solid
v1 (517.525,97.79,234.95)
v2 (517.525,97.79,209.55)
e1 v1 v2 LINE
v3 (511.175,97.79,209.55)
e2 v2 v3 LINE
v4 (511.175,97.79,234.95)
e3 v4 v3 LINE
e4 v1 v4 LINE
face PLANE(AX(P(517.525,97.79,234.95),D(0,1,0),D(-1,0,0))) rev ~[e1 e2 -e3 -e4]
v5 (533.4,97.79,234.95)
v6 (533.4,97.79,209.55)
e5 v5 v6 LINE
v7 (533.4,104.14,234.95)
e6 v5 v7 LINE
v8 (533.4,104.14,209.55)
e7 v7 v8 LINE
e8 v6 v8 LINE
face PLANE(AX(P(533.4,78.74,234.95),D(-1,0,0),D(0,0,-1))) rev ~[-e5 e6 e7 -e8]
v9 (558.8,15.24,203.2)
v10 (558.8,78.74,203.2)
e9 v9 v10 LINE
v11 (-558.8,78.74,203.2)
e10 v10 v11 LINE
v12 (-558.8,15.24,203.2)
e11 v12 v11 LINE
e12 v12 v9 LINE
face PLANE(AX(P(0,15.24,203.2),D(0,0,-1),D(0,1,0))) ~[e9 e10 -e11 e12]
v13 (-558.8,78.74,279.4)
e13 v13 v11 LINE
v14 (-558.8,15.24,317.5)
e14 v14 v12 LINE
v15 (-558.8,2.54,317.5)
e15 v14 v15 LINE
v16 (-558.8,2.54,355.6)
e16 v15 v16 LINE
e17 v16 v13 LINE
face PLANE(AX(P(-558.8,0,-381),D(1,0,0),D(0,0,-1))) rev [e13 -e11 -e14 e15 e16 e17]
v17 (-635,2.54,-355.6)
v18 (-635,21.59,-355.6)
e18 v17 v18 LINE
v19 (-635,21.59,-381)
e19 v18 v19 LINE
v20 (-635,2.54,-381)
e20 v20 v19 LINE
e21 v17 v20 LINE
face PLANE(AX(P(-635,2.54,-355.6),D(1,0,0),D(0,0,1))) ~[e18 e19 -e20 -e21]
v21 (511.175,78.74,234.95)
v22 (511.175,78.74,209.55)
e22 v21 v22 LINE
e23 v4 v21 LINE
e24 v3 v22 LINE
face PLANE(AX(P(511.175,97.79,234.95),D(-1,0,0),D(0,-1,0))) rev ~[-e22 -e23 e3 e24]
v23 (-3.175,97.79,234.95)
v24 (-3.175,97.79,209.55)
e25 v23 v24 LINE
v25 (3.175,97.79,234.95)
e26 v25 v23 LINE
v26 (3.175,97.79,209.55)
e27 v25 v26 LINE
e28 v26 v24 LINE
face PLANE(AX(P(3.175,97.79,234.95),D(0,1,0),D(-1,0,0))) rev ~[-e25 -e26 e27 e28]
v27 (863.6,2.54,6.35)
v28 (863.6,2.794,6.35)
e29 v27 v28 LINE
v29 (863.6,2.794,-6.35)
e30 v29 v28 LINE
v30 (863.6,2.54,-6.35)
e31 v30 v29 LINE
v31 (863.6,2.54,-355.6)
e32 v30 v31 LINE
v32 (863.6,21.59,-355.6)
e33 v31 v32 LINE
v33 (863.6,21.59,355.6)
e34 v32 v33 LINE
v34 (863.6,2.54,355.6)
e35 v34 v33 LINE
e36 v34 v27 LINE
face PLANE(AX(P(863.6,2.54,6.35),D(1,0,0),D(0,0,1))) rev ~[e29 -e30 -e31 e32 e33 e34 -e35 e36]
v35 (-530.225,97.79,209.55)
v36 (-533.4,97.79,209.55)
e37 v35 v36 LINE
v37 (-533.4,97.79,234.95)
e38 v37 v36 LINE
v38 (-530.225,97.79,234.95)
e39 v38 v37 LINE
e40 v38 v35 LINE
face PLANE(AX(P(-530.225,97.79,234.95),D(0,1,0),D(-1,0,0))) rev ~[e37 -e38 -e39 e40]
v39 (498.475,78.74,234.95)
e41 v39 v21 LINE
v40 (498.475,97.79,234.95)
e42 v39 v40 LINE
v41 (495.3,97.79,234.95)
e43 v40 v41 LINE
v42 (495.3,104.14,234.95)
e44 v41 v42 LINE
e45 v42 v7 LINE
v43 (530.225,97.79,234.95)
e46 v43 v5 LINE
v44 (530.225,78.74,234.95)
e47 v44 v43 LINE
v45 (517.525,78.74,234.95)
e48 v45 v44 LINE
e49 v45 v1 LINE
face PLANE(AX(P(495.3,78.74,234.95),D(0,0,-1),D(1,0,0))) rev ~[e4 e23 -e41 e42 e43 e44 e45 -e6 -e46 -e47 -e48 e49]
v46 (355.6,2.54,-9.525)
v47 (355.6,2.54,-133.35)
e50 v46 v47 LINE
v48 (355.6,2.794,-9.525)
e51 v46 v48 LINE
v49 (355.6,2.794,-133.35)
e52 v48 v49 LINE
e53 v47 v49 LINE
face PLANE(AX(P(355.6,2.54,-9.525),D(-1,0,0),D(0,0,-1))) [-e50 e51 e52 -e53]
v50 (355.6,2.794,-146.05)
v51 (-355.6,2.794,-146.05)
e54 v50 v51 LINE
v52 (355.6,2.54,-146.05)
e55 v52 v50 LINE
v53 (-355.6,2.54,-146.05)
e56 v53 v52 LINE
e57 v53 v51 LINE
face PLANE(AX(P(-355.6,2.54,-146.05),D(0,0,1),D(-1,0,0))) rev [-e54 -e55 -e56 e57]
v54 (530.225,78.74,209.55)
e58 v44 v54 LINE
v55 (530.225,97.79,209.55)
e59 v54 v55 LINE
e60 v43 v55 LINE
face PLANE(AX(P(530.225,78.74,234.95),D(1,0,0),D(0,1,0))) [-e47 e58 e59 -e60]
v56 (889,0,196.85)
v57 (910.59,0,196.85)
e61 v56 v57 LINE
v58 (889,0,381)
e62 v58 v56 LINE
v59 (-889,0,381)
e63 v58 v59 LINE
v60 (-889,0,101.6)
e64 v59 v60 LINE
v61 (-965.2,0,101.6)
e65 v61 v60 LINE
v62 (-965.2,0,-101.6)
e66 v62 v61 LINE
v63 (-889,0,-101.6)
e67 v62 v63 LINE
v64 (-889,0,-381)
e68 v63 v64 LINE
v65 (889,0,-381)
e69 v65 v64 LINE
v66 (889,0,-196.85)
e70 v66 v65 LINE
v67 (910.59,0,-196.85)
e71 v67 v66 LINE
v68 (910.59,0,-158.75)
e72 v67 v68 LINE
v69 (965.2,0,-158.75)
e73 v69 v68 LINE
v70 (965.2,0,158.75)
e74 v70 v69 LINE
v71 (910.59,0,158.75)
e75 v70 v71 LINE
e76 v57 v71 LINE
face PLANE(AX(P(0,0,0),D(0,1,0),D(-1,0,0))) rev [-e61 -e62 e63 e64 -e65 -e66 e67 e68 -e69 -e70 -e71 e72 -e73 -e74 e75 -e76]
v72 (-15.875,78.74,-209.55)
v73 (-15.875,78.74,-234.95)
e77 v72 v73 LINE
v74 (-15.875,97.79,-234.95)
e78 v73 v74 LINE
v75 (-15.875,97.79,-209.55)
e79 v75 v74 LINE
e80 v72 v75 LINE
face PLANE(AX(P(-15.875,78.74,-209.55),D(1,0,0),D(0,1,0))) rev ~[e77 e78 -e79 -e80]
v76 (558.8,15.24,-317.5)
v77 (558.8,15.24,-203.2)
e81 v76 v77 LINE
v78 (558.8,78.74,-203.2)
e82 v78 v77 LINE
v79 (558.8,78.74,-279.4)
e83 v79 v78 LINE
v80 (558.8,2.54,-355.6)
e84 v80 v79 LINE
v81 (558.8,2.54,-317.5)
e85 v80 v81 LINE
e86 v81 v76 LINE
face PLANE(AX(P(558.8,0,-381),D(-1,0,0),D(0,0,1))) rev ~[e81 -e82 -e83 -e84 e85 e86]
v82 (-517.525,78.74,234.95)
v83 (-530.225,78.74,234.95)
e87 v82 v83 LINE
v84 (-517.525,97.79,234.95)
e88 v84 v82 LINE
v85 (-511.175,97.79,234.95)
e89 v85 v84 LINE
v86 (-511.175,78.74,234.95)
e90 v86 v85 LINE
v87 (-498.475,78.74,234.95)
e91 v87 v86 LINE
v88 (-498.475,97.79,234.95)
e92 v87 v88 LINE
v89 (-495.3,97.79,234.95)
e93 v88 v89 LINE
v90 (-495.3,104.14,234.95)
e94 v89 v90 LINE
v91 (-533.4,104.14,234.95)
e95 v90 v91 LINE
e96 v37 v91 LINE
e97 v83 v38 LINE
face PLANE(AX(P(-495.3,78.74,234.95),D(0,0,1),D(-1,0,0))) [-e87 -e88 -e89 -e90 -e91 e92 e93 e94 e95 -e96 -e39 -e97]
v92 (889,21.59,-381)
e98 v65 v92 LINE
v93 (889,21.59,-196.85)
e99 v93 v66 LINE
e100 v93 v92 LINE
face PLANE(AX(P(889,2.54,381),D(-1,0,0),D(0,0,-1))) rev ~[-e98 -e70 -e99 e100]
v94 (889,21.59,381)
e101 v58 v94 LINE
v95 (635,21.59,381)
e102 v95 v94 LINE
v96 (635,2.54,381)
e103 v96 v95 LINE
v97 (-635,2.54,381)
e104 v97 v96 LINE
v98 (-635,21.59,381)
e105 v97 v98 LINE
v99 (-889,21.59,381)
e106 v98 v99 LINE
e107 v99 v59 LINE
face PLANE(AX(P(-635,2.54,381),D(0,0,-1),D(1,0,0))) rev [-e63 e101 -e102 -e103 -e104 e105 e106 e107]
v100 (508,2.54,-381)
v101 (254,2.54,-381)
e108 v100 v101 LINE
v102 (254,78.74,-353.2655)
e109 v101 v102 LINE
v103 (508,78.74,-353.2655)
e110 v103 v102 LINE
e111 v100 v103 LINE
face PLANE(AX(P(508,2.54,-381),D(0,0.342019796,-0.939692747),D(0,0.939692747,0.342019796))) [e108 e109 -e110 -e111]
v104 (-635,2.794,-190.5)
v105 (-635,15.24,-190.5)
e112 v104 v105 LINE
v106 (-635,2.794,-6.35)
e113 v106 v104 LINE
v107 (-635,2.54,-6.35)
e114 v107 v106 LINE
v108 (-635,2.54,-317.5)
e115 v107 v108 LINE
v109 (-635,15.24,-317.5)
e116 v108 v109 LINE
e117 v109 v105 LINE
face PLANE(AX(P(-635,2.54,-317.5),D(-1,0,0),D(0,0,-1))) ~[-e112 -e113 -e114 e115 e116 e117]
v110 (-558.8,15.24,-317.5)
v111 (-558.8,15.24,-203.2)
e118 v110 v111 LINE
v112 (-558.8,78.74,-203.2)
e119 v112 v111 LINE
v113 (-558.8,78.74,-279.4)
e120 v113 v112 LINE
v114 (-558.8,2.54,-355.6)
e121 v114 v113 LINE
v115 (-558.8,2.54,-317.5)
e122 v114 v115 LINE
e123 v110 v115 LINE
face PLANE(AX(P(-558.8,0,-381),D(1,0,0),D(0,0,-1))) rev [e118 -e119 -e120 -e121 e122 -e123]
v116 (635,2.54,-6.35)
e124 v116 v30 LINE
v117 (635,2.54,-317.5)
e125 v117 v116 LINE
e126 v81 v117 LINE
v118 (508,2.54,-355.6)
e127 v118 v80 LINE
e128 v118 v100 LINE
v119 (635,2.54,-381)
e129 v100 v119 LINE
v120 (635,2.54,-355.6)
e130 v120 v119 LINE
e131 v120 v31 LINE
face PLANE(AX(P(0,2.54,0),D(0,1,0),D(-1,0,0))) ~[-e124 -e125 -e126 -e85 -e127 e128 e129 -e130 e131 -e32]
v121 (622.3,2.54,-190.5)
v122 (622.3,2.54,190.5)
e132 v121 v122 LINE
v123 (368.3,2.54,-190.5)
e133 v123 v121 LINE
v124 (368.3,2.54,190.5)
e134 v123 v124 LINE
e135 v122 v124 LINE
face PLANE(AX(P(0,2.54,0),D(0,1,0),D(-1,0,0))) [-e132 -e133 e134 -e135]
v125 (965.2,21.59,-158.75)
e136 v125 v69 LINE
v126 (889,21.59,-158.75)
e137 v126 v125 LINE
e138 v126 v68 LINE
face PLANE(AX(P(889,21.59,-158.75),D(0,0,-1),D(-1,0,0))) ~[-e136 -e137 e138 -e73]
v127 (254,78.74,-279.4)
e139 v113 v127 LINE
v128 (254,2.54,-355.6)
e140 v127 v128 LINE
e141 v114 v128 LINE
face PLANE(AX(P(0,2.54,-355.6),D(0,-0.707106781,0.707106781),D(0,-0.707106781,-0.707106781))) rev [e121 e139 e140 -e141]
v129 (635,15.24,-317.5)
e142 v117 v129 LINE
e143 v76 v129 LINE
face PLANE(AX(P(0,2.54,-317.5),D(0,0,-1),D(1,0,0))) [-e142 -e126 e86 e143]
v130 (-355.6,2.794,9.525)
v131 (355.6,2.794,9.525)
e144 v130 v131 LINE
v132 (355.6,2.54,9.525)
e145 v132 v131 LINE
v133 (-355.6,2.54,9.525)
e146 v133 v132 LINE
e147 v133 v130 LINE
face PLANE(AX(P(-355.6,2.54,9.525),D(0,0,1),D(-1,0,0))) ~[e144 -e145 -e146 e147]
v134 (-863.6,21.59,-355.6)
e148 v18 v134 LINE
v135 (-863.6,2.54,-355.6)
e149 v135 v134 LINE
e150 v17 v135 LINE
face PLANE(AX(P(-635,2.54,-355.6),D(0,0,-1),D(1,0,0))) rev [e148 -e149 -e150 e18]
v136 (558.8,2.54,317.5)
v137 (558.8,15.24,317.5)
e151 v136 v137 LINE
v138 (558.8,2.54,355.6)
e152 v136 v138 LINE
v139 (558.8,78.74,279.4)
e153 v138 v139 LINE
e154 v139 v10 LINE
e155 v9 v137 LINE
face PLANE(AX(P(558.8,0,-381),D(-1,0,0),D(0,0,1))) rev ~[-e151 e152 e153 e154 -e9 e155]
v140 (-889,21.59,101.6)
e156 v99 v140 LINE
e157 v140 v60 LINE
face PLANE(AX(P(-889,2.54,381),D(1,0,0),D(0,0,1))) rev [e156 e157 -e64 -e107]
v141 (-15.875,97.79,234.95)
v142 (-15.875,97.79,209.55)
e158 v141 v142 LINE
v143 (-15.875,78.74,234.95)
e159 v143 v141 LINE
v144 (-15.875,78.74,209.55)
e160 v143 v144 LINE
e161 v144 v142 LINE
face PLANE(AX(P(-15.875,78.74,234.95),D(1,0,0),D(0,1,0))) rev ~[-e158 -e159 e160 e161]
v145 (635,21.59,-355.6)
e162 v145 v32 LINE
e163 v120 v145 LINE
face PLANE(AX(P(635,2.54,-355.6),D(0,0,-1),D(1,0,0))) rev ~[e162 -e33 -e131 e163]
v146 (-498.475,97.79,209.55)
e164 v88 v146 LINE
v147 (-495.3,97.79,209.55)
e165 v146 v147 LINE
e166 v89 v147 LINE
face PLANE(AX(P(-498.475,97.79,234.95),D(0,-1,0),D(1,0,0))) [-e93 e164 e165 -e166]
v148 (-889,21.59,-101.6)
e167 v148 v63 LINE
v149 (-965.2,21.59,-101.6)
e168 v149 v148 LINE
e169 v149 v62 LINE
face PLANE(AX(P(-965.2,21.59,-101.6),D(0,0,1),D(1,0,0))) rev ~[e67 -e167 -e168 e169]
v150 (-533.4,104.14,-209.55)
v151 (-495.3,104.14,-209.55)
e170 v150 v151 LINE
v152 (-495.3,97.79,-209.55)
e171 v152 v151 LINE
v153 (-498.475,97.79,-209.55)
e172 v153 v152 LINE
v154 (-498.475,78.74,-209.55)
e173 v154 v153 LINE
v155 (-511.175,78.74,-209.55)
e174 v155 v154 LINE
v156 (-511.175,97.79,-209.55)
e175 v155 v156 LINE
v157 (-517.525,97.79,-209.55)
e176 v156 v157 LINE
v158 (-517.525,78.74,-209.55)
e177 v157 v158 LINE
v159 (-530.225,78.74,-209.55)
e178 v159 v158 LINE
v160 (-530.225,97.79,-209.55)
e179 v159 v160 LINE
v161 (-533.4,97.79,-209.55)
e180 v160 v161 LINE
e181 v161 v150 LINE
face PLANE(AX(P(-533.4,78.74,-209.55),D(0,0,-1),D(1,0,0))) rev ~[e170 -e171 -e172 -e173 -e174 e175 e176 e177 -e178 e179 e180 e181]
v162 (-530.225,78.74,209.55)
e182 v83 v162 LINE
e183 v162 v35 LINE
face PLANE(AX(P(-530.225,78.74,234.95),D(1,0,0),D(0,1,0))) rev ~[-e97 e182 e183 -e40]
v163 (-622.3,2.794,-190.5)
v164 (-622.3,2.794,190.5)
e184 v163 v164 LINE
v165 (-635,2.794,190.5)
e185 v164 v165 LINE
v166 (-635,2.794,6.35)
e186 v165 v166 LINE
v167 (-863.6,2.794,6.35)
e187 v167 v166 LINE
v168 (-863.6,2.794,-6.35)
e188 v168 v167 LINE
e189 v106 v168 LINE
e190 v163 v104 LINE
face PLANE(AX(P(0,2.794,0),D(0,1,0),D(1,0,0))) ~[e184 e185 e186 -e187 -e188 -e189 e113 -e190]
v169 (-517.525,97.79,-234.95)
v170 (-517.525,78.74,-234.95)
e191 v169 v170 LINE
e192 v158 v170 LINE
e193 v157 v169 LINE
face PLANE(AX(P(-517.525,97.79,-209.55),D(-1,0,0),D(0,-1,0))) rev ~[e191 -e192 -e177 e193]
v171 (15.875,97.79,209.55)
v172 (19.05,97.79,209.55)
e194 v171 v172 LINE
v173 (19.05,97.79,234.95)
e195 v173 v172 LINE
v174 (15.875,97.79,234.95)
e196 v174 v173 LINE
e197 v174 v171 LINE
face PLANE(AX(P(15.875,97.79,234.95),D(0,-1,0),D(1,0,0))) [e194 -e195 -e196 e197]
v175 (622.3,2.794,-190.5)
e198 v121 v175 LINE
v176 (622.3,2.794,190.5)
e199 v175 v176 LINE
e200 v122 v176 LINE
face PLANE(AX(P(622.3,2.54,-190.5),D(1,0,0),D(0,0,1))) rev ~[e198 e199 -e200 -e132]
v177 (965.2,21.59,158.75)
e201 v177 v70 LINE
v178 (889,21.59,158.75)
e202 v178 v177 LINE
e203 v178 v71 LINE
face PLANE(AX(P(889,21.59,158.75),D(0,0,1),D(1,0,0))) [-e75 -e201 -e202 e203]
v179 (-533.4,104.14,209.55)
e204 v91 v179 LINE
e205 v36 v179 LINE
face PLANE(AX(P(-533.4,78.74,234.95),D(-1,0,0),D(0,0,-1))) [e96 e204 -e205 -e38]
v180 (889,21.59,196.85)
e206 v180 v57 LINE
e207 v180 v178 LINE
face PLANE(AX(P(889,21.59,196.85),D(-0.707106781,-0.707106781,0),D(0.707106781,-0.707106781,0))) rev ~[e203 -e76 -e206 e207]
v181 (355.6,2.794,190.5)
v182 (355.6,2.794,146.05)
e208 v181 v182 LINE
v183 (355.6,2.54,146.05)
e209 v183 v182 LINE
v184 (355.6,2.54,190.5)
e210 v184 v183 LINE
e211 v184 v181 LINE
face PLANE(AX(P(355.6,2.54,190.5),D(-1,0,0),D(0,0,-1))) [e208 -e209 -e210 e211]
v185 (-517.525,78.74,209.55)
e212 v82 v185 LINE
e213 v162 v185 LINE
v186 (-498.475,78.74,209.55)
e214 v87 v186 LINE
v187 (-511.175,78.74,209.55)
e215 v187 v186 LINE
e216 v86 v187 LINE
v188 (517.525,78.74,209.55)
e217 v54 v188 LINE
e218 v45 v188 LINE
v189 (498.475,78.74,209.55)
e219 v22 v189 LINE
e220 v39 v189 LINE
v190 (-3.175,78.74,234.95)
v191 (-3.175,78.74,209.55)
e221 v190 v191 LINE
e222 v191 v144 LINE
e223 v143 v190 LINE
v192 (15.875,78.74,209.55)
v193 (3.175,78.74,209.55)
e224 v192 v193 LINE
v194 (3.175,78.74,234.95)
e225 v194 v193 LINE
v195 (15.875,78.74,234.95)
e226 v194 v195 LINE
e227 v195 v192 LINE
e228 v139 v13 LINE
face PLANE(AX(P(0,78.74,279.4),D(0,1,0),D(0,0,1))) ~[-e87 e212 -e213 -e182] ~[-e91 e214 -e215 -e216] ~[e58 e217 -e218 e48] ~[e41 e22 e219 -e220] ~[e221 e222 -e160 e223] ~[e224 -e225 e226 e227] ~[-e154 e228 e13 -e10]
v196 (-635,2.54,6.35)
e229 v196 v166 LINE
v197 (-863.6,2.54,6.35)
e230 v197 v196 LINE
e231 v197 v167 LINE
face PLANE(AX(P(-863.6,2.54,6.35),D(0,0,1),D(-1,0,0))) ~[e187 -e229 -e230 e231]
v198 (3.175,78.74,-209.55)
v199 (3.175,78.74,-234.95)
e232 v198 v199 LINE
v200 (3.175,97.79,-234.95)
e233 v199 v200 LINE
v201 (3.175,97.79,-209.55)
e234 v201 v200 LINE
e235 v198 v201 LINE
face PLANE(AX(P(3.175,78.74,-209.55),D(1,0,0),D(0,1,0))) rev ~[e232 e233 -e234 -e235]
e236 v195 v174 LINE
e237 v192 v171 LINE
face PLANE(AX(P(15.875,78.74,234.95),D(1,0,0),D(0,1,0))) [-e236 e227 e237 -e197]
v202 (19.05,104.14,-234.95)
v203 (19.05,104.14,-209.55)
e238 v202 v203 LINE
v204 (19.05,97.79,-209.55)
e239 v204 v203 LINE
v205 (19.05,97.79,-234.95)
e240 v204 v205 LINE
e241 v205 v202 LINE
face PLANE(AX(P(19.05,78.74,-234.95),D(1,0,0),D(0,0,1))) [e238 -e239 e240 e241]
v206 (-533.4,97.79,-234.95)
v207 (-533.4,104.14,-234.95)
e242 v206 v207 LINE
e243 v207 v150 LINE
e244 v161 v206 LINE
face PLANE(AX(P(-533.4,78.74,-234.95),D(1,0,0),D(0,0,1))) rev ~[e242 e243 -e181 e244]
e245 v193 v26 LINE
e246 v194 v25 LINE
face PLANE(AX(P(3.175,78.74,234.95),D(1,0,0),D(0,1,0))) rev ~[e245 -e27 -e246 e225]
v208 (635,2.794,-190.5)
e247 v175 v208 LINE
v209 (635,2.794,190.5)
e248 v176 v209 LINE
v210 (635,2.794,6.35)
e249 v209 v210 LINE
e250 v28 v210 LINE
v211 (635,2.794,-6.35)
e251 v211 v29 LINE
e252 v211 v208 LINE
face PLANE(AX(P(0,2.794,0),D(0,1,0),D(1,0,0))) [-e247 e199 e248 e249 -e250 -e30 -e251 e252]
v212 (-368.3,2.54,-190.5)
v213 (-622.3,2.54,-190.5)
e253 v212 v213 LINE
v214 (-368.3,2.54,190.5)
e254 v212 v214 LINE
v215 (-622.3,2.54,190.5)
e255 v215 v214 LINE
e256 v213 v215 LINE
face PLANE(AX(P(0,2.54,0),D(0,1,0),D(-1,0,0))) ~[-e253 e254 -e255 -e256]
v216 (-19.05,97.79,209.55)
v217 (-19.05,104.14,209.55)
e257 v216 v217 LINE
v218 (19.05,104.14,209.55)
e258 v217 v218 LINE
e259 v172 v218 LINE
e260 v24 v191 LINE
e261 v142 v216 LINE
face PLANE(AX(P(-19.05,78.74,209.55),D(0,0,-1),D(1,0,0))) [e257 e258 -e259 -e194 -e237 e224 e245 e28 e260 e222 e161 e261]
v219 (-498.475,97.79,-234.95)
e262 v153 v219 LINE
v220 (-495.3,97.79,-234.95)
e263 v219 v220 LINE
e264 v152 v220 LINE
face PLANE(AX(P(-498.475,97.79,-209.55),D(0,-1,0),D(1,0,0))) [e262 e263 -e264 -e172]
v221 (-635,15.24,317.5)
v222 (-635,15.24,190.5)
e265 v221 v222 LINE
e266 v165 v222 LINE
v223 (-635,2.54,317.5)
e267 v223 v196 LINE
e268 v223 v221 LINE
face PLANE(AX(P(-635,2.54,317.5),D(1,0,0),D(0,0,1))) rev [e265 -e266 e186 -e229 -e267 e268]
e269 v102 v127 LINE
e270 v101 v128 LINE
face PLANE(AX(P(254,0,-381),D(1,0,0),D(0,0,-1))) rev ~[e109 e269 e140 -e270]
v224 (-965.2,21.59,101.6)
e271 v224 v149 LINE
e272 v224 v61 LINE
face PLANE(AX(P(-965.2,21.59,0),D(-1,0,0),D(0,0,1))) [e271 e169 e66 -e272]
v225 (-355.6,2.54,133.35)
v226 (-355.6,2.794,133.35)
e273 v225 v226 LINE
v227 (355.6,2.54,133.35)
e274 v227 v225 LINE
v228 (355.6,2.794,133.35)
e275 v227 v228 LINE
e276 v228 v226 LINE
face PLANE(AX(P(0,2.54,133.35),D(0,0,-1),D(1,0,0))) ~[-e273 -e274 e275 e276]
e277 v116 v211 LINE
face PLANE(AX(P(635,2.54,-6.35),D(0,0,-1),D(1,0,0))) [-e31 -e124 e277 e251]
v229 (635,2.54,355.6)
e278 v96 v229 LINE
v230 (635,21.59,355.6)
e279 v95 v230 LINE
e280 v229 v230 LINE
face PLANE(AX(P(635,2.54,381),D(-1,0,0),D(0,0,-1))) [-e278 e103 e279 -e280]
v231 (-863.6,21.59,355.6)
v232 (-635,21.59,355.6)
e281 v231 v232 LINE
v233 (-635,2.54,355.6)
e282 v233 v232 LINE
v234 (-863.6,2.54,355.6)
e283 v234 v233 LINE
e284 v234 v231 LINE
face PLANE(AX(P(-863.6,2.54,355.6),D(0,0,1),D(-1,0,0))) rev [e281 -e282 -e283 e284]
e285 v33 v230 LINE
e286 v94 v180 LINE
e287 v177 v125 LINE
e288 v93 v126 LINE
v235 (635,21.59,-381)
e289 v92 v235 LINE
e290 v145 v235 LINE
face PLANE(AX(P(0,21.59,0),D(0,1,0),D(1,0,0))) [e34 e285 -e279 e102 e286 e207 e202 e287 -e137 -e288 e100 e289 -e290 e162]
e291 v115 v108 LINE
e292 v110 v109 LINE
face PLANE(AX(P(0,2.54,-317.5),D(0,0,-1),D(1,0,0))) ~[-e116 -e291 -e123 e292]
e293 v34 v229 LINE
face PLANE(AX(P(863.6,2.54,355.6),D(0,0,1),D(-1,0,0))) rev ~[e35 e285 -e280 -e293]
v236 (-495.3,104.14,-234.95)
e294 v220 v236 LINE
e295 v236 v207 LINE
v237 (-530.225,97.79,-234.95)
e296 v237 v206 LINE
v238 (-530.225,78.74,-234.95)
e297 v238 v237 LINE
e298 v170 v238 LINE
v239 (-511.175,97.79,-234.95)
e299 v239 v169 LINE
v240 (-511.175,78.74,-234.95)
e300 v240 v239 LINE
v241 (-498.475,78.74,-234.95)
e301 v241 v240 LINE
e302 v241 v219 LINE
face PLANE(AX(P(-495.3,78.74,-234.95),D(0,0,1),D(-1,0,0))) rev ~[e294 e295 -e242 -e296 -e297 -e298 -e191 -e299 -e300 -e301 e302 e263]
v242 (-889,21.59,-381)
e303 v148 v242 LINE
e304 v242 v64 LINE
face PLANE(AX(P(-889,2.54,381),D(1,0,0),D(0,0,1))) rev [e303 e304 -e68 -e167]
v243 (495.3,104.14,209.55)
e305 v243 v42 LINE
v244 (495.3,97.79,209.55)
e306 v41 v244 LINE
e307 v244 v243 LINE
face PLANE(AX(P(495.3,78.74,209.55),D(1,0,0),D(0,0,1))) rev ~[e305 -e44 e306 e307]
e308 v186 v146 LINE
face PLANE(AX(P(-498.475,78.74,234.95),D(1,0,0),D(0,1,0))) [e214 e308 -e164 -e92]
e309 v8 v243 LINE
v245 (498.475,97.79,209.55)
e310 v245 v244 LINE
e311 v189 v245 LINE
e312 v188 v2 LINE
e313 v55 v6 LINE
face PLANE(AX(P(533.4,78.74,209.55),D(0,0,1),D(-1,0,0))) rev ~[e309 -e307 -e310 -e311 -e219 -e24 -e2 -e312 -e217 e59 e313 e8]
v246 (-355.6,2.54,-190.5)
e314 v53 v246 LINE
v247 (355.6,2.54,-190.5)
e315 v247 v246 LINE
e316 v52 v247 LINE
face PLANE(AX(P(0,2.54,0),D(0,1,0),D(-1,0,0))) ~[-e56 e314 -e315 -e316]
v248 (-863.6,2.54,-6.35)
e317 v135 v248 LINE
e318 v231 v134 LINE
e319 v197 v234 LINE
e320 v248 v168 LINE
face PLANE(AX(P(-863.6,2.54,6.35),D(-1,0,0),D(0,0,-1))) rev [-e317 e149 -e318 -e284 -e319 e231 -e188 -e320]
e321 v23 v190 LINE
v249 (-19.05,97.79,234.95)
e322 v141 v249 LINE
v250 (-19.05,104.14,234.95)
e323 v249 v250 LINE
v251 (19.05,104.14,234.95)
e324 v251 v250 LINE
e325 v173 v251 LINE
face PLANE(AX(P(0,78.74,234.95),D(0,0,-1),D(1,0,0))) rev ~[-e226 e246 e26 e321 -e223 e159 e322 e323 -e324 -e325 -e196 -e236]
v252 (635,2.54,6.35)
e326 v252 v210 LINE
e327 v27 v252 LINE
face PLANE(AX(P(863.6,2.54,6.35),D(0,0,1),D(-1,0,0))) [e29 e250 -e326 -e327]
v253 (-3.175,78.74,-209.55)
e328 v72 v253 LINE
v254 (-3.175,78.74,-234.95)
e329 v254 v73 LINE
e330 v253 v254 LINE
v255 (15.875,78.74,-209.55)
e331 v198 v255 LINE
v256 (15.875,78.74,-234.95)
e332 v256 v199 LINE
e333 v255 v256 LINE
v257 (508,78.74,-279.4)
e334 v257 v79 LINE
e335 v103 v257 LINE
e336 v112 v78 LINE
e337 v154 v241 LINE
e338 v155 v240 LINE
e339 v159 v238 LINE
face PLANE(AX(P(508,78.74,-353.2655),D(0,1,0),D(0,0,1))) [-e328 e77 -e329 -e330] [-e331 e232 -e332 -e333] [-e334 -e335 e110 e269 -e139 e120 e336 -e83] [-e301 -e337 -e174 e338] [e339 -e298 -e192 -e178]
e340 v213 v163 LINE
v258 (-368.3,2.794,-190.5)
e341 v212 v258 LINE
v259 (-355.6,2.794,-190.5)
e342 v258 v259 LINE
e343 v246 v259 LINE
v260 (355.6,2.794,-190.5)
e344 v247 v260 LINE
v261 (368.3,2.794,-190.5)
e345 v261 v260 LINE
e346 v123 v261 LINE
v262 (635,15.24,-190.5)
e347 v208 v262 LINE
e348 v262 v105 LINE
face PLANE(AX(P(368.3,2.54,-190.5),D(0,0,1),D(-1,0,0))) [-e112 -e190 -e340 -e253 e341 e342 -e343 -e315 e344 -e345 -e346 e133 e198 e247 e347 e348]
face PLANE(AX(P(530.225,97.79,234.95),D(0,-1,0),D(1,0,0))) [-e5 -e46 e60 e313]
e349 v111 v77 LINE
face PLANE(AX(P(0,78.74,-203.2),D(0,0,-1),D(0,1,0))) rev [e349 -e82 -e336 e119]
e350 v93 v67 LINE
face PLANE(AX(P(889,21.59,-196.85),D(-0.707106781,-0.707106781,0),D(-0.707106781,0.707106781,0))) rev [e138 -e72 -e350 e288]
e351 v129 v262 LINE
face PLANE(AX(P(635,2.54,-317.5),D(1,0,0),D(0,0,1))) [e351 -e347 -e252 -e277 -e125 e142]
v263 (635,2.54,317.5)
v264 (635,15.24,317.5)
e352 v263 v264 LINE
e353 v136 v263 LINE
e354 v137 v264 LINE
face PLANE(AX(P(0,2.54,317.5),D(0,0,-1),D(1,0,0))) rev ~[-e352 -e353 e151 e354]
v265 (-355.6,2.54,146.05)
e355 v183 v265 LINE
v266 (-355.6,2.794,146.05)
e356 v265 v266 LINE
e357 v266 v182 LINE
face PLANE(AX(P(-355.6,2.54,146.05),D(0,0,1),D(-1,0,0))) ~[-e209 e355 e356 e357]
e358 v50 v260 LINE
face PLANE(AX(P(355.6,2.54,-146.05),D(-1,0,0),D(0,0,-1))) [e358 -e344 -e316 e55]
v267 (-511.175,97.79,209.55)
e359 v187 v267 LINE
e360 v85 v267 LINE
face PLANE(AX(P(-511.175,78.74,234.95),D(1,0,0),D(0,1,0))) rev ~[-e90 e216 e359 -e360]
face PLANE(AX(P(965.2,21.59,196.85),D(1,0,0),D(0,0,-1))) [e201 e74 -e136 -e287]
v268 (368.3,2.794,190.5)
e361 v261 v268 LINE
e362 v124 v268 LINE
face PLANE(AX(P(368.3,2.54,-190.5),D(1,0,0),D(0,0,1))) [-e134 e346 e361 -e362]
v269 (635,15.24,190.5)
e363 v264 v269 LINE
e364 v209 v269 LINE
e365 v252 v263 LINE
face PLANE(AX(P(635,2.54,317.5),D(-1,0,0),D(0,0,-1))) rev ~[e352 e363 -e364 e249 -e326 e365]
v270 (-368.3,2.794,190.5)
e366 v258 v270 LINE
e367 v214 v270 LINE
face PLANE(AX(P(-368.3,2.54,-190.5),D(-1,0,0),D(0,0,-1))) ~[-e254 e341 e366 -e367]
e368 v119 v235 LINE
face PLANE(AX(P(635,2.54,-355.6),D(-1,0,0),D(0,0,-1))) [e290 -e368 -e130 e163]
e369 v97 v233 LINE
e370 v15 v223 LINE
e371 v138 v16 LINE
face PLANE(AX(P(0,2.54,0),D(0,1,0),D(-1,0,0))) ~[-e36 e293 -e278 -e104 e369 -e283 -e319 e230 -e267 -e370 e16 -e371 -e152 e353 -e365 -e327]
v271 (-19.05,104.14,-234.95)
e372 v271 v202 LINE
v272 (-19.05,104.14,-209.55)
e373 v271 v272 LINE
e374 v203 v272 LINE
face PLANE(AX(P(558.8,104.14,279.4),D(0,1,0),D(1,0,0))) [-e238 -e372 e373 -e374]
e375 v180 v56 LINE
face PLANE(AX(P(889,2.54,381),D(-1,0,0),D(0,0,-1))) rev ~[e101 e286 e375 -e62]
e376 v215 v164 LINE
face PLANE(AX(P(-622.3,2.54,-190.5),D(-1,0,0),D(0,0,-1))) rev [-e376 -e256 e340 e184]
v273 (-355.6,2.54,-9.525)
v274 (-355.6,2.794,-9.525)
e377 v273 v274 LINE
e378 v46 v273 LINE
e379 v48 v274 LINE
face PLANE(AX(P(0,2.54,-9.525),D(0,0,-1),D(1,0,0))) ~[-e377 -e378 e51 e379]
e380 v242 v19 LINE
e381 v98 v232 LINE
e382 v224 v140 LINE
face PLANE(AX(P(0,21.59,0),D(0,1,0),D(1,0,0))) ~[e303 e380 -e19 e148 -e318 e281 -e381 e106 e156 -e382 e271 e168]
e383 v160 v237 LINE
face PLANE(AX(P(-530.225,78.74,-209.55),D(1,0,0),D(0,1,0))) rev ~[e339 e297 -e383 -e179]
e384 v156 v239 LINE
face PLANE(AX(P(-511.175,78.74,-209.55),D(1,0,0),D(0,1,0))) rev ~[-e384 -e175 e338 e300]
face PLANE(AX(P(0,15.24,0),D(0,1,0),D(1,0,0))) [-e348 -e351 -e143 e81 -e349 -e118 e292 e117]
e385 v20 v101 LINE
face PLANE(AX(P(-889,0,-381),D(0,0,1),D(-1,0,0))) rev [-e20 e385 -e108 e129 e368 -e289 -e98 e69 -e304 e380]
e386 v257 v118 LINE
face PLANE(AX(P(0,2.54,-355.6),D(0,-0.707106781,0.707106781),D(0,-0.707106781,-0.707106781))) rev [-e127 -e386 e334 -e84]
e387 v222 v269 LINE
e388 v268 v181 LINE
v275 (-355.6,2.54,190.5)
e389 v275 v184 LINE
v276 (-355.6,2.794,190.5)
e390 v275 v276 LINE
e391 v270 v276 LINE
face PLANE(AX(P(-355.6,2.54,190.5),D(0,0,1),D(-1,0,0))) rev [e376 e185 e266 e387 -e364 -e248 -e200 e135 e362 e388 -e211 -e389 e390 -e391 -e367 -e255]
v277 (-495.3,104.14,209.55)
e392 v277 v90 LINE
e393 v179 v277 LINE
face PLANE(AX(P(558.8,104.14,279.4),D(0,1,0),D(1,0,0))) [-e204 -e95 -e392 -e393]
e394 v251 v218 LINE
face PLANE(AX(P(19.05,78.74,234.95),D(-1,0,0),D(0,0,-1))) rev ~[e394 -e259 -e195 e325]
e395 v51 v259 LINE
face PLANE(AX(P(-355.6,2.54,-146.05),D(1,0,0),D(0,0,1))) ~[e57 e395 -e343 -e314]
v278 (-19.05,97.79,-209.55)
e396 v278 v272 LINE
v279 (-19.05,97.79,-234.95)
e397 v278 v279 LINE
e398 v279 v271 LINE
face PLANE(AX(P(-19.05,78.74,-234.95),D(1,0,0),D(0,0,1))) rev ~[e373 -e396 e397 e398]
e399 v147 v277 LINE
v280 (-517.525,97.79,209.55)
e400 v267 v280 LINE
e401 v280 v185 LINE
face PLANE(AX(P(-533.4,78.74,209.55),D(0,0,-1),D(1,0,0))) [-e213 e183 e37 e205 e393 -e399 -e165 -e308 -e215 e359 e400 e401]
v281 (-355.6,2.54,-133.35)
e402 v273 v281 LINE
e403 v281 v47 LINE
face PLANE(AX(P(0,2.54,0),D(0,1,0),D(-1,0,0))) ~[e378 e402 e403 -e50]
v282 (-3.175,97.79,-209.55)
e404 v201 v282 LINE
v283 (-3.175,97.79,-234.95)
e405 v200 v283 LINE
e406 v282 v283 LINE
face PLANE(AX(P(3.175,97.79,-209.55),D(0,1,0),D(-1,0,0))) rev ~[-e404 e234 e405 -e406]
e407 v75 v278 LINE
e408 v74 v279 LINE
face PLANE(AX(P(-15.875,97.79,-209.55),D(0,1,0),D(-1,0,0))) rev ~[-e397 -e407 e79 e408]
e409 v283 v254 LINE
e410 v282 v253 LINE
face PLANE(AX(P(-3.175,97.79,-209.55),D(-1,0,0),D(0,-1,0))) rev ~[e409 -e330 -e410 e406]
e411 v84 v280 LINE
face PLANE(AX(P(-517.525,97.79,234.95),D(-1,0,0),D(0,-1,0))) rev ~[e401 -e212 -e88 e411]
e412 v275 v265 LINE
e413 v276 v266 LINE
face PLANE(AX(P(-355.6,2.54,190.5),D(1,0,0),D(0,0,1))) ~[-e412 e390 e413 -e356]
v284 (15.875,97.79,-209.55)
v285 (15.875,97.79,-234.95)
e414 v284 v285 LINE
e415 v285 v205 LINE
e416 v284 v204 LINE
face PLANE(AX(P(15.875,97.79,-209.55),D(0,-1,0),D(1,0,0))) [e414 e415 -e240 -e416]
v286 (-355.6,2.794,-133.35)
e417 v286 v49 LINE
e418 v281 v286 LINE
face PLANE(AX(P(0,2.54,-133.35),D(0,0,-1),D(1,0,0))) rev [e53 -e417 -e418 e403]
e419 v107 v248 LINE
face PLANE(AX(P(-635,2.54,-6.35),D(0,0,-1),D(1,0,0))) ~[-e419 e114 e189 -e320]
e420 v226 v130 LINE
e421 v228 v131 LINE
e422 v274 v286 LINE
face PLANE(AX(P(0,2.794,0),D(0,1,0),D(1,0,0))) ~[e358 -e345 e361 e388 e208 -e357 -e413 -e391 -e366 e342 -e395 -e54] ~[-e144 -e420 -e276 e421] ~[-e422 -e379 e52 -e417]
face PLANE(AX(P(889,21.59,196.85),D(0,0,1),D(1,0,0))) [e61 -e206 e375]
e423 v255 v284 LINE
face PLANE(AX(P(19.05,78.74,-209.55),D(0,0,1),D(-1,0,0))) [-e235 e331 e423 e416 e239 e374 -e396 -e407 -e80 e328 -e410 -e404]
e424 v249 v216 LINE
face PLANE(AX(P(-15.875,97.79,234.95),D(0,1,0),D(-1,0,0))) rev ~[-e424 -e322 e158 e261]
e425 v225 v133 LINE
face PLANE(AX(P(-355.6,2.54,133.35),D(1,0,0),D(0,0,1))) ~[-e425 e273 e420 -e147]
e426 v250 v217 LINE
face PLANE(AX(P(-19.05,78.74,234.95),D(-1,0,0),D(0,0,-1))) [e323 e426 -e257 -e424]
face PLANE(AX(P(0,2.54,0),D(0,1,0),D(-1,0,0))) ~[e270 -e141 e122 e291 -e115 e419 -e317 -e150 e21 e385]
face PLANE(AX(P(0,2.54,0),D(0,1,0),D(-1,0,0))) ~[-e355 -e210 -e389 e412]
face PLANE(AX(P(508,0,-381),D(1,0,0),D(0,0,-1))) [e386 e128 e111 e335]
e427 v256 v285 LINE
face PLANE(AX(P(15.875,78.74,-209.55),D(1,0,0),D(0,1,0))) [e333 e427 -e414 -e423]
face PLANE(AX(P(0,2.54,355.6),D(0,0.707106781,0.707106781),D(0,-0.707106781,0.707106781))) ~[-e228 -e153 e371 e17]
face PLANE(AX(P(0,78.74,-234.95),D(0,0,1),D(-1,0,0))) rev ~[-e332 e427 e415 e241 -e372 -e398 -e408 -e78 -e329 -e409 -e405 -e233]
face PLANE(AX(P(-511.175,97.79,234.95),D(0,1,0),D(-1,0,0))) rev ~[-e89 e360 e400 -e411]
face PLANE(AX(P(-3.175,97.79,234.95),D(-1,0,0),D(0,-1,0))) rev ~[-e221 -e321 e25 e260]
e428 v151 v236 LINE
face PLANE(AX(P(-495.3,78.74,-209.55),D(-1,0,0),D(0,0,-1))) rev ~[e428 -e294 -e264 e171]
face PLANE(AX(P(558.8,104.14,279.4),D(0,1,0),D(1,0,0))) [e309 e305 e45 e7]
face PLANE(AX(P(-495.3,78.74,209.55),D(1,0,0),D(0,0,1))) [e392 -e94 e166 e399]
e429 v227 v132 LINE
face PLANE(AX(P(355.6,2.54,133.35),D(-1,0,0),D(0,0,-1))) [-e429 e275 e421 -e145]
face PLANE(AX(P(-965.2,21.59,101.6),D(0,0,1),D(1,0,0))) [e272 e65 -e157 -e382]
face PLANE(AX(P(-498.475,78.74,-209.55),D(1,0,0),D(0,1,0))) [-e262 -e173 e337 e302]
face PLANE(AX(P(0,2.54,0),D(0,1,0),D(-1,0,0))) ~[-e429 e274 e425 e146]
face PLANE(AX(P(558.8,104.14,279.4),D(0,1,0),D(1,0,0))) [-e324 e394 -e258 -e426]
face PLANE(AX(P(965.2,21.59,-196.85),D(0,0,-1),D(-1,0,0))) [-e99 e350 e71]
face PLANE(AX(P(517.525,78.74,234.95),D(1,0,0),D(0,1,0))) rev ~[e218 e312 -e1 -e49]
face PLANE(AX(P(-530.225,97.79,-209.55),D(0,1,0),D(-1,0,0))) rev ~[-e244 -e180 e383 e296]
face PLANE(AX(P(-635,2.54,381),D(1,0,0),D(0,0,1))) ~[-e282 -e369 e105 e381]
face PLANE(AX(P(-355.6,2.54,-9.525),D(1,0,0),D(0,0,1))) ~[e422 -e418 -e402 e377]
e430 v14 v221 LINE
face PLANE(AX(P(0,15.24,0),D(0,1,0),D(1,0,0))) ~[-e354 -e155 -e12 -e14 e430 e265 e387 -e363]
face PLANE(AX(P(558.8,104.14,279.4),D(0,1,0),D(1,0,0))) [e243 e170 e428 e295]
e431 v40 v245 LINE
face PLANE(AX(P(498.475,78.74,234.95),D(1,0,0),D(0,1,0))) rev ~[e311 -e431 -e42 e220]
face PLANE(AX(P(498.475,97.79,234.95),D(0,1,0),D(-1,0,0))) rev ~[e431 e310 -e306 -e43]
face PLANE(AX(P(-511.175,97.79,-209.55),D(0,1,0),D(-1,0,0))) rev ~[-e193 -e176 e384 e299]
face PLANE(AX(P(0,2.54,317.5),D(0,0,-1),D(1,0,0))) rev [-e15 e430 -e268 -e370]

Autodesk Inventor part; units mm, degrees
ref_plane "YZ Plane" through (0, 0, 0) normal (1, 0, 0) x (0, 1, 0)
sketch "Sketch1" plane through (0, 0, 0) normal (0, 1, 0) x (-1, 0, 0)
  line L0 (0, 381) -> (-889, 381)
  line L1 (-889, 381) -> (-889, -381)
  line L2 (-889, -381) -> (0, -381)
  line L3 (0, 381) -> (0, -381)
  point P0 (0, 0)
  dimension "d1" = 762
  dimension "d35" = 889
extrude "Extrusion1" add sketch "Sketch1" along normal blind 2.54
sketch "Sketch2" plane through (0, 2.54, 0) normal (0, 1, 0) x (1, 0, 0)
  line L0 (0, -381) -> (889, -381) projected
  line L1 (889, -381) -> (889, 381) projected
  line L2 (889, 381) -> (0, 381) projected
  line L3 (863.6, -355.6) -> (635, -355.6)
  line L4 (635, 355.6) -> (863.6, 355.6)
  line L5 (863.6, 355.6) -> (863.6, -355.6)
  line L6 (635, -381) -> (635, -355.6)
  line L7 (635, 355.6) -> (635, 381)
  line L8 (0, 381) -> (0, -381) projected
  line L9 (635, -355.6) -> (635, 355.6) construction
  line L10 (622.3, 190.5) -> (622.3, -190.5)
  line L11 (863.6, 6.35) -> (863.6, -6.35)
  line L12 (863.6, -6.35) -> (635, -6.35)
  line L13 (635, -190.5) -> (635, -6.35)
  line L14 (635, 6.35) -> (635, 190.5)
  line L15 (635, 6.35) -> (863.6, 6.35)
  line L16 (0, -190.5) -> (0, -317.5)
  line L17 (0, -317.5) -> (635, -317.5)
  line L18 (635, -317.5) -> (635, -190.5)
  line L19 (622.3, -190.5) -> (0, -190.5)
  line L20 (0, 0) -> (889, 0) construction
  line L21 (0, 190.5) -> (0, 317.5)
  line L22 (0, 317.5) -> (635, 317.5)
  line L23 (635, 317.5) -> (635, 190.5)
  line L24 (622.3, 190.5) -> (0, 190.5)
  line L25 (368.3, 190.5) -> (368.3, -190.5)
  line L26 (622.3, -190.5) -> (635, -190.5)
  line L27 (622.3, 190.5) -> (635, 190.5)
  line L28 (0, 0) -> (1199.5673, 0) construction
  line L29 (355.6, -9.525) -> (0, -9.525)
  line L30 (0, -9.525) -> (0, 9.525)
  line L31 (0, 9.525) -> (355.6, 9.525)
  line L32 (0, 133.35) -> (355.6, 133.35)
  line L33 (0, 146.05) -> (0, 133.35)
  line L34 (355.6, 146.05) -> (0, 146.05)
  line L35 (355.6, 9.525) -> (355.6, 133.35)
  line L36 (355.6, 146.05) -> (355.6, 190.5)
  line L37 (0, -133.35) -> (355.6, -133.35)
  line L38 (0, -146.05) -> (0, -133.35)
  line L39 (355.6, -146.05) -> (0, -146.05)
  line L40 (355.6, -190.5) -> (355.6, -146.05)
  line L41 (355.6, -133.35) -> (355.6, -9.525)
  line L42 (635, -381) -> (889, -381)
  line L43 (889, -381) -> (889, 381)
  line L44 (889, 381) -> (635, 381)
  line L45 (889, 381) -> (0, 381) projected
  point P0 (745.8337, 0)
  point P1 (599.7837, 0)
  point P2 (345.7837, 88.9)
  dimension "d4" = 25.4
  dimension "d5" = 254
  dimension "d8" = 12.7
  dimension "d11" = 127
  dimension "d16" = 19.05
  dimension "d19" = 63.5
  dimension "d21" = 44.45
  dimension "d22" = 12.7
  dimension "d23" = 374.65
  dimension "d36" = 25.4
  dimension "d37" = 0
  dimension "d38" = 0
  dimension "d39" = 0
  dimension "d40" = 0
  dimension "d41" = 254
  dimension "d42" = 12.7
  dimension "d43" = 12.7
  dimension "d44" = 0
  dimension "d45" = 12.7
  dimension "d46" = 0
  dimension "d47" = 12.7
extrude "Extrusion2" add sketch "Sketch2" along normal blind 12.7 contours L8 L19 L26 L18 L17 | L24 L8 L22 L23 L27
extrude "Extrusion3" add sketch "Sketch2" along normal blind 19.05 contours L6 L3 L5 L4 L7 L2 L1 L0
extrude "Extrusion4" add sketch "Sketch2" along normal blind 0.254 contours L8 L37 L41 L29 L31 L35 L32 L34 L36 L24 L25 L19 L40 L39 | L26 L10 L27 L14 L15 L5 L12 L13
sketch "Sketch3" plane through (0, 0, -381) normal (-1, 0, 0) x (0, 0, 1)
  line L0 (762, 0) -> (0, 0) projected
  line L1 (762, 0) -> (762, 2.54) projected
  line L2 (698.5, 2.54) -> (762, 2.54) projected
  line L3 (698.5, 2.54) -> (698.5, 15.24) projected
  line L4 (571.5, 15.24) -> (698.5, 15.24) projected
  line L5 (571.5, 2.54) -> (571.5, 15.24) projected
  line L6 (527.05, 2.54) -> (571.5, 2.54) projected
  line L7 (527.05, 2.54) -> (527.05, 2.794) projected
  line L8 (514.35, 2.794) -> (527.05, 2.794) projected
  line L9 (514.35, 2.54) -> (514.35, 2.794) projected
  line L10 (390.525, 2.54) -> (514.35, 2.54) projected
  line L11 (390.525, 2.54) -> (390.525, 2.794) projected
  line L12 (371.475, 2.794) -> (390.525, 2.794) projected
  line L13 (371.475, 2.54) -> (371.475, 2.794) projected
  line L14 (247.65, 2.54) -> (371.475, 2.54) projected
  line L15 (247.65, 2.54) -> (247.65, 2.794) projected
  line L16 (234.95, 2.794) -> (247.65, 2.794) projected
  line L17 (234.95, 2.54) -> (234.95, 2.794) projected
  line L18 (190.5, 2.54) -> (234.95, 2.54) projected
  line L19 (190.5, 2.54) -> (190.5, 15.24) projected
  line L20 (63.5, 15.24) -> (190.5, 15.24) projected
  line L21 (63.5, 2.54) -> (63.5, 15.24) projected
  line L22 (0, 2.54) -> (63.5, 2.54) projected
  line L23 (0, 0) -> (0, 2.54) projected
  line L24 (736.6, 2.54) -> (584.2, 2.54)
  line L25 (387.35, 2.54) -> (698.5, 2.54) projected
  line L26 (736.6, 2.54) -> (889, 2.54) construction
  line L27 (736.6, 2.54) -> (660.4, 78.74)
  line L28 (736.6, 2.54) -> (844.3631, 2.54) construction
  line L29 (660.4, 78.74) -> (584.2, 78.74)
  line L30 (762, 0) -> (0, 0) projected
  line L31 (584.2, 78.74) -> (584.2, 2.54)
  line L32 (381, 2.54) -> (381, -13.3549) construction
  line L33 (25.4, 2.54) -> (177.8, 2.54)
  line L34 (374.65, 2.54) -> (63.5, 2.54)
  line L35 (25.4, 2.54) -> (101.6, 78.74)
  line L36 (101.6, 78.74) -> (177.8, 78.74)
  line L37 (177.8, 78.74) -> (177.8, 2.54)
  point P0 (381, 0)
  dimension "d30" = 152.4
  dimension "d31" = 180
  dimension "d32" = 135
extrude "Extrusion5" add sketch "Sketch3" against normal blind 558.8 contours L2 L3 L4 L31 L29 L27 | L35 L36 L37 L20 L21 L22 | L24 L31 L4 L3 | L21 L20 L37 L33
mirror "Mirror1" about plane through (0, 0, 0) normal (1, 0, 0) of "Extrusion1", "Extrusion2", "Extrusion3", "Extrusion4", "Extrusion5"
sketch "Sketch4" plane through (558.8, 78.74, 279.4) normal (0, 1, 0) x (1, 0, 0)
  line L0 (-203.2, 133.35) -> (-914.4, 133.35) construction
  line L1 (-203.2, 133.35) -> (-203.2, 88.9) construction
  line L2 (-190.5, 88.9) -> (-203.2, 88.9) construction
  line L3 (-190.5, 88.9) -> (-190.5, 469.9) construction
  line L4 (-203.2, 469.9) -> (-190.5, 469.9) construction
  line L5 (-203.2, 469.9) -> (-203.2, 425.45) construction
  line L6 (-203.2, 425.45) -> (-914.4, 425.45) construction
  line L7 (-914.4, 469.9) -> (-914.4, 425.45) construction
  line L8 (-914.4, 469.9) -> (-927.1, 469.9) construction
  line L9 (-927.1, 88.9) -> (-927.1, 469.9) construction
  line L10 (-927.1, 88.9) -> (-914.4, 88.9) construction
  line L11 (-914.4, 133.35) -> (-914.4, 88.9) construction
  line L12 (-203.2, 146.05) -> (-914.4, 146.05) construction
  line L13 (-914.4, 269.875) -> (-914.4, 146.05) construction
  line L14 (-203.2, 269.875) -> (-914.4, 269.875) construction
  line L15 (-203.2, 269.875) -> (-203.2, 146.05) construction
  line L16 (-203.2, 288.925) -> (-914.4, 288.925) construction
  line L17 (-914.4, 412.75) -> (-914.4, 288.925) construction
  line L18 (-203.2, 412.75) -> (-914.4, 412.75) construction
  line L19 (-203.2, 412.75) -> (-203.2, 288.925) construction
  line L20 (-25.4, 69.85) -> (-63.5, 69.85)
  line L21 (-63.5, 69.85) -> (-63.5, 44.45)
  line L22 (-63.5, 44.45) -> (-25.4, 44.45)
  line L23 (-25.4, 44.45) -> (-25.4, 69.85)
  line L24 (0, 76.2) -> (-1117.6, 76.2) construction
  line L25 (0, 76.2) -> (0, -38.1) construction
  line L26 (-539.75, 69.85) -> (-558.8, 69.85)
  line L27 (-558.8, 44.45) -> (-539.75, 44.45)
  line L28 (-539.75, 44.45) -> (-539.75, 69.85)
  line L29 (-1092.2, 69.85) -> (-1054.1, 69.85)
  line L30 (-1054.1, 69.85) -> (-1054.1, 44.45)
  line L31 (-1054.1, 44.45) -> (-1092.2, 44.45)
  line L32 (-1092.2, 44.45) -> (-1092.2, 69.85)
  line L33 (-577.85, 69.85) -> (-558.8, 69.85)
  line L34 (-558.8, 44.45) -> (-577.85, 44.45)
  line L35 (-577.85, 44.45) -> (-577.85, 69.85)
  line L36 (-558.8, 279.4) -> (-687.566, 279.4) construction
  line L37 (-558.8, 279.4) -> (-430.034, 279.4) construction
  line L38 (-539.75, 488.95) -> (-558.8, 488.95)
  line L39 (-558.8, 514.35) -> (-539.75, 514.35)
  line L40 (-539.75, 514.35) -> (-539.75, 488.95)
  line L41 (-577.85, 488.95) -> (-558.8, 488.95)
  line L42 (-577.85, 514.35) -> (-577.85, 488.95)
  line L43 (-558.8, 514.35) -> (-577.85, 514.35)
  line L44 (-1092.2, 488.95) -> (-1054.1, 488.95)
  line L45 (-1054.1, 488.95) -> (-1054.1, 514.35)
  line L46 (-1054.1, 514.35) -> (-1092.2, 514.35)
  line L47 (-1092.2, 514.35) -> (-1092.2, 488.95)
  dimension "d48" = 38.1
  dimension "d49" = 25.4
  dimension "d50" = 6.35
  dimension "d51" = 25.4
  dimension "d52" = 19.05
  dimension "d53" = 25.4
  dimension "d55" = 180
extrude "Extrusion6" add sketch "Sketch4" along normal blind 25.4
sketch "Sketch5" plane through (495.3, 78.74, 234.95) normal (0, 0, 1) x (1, 0, 0)
  line L0 (63.5, 0) -> (-1054.1, 0) projected
  line L1 (15.875, 0) -> (22.225, 0)
  line L2 (22.225, 0) -> (22.225, 19.05)
  line L3 (22.225, 19.05) -> (15.875, 19.05)
  line L4 (15.875, 19.05) -> (15.875, 0)
  line L5 (0, 0) -> (0, 25.4) projected
  line L6 (0, 0) -> (3.175, 0)
  line L7 (3.175, 0) -> (3.175, 19.05)
  line L8 (3.175, 19.05) -> (0, 19.05)
  line L9 (0, 19.05) -> (0, 0)
  line L10 (38.1, 0) -> (34.925, 0)
  line L11 (34.925, 0) -> (34.925, 19.05)
  line L12 (34.925, 19.05) -> (38.1, 19.05)
  line L13 (38.1, 19.05) -> (38.1, 0)
  point P0 (-495.3, -78.74)
  dimension "d58" = 6.35
  dimension "d59" = 19.05
  dimension "d60" = 15.875
  dimension "d61" = 3.175
  dimension "d62" = 3.175
extrude "Extrusion7" cut sketch "Sketch5" against normal blind 25.4
pattern_linear "Rectangular Pattern1" count 3 spacing 514.35 along (-1, 0, 0) count 2 spacing 444.5 along (0, 0, -1) of "Extrusion7"
sketch "Sketch6" plane through (0, 21.59, 0) normal (0, 1, 0) x (1, 0, 0)
  line L0 (889, -381) -> (889, 381) projected
  line L1 (889, 381) -> (635, 381) projected
  line L2 (635, 381) -> (635, 355.6) projected
  line L3 (635, 355.6) -> (863.6, 355.6) projected
  line L4 (863.6, 355.6) -> (863.6, -355.6) projected
  line L5 (863.6, -355.6) -> (635, -355.6) projected
  line L6 (635, -355.6) -> (635, -381) projected
  line L7 (635, -381) -> (889, -381) projected
  line L8 (-558.8, -203.2) -> (558.8, -203.2) projected
  line L9 (558.8, -203.2) -> (558.8, -317.5) projected
  line L10 (558.8, -317.5) -> (635, -317.5) projected
  line L11 (635, -317.5) -> (635, -190.5) projected
  line L12 (635, -190.5) -> (-635, -190.5) projected
  line L13 (-635, -317.5) -> (-635, -190.5) projected
  line L14 (-558.8, -317.5) -> (-635, -317.5) projected
  line L15 (-558.8, -203.2) -> (-558.8, -317.5) projected
  line L16 (558.8, 317.5) -> (558.8, 203.2) projected
  line L17 (-558.8, 203.2) -> (558.8, 203.2) projected
  line L18 (-558.8, 317.5) -> (-558.8, 203.2) projected
  line L19 (-635, 317.5) -> (-558.8, 317.5) projected
  line L20 (-635, 190.5) -> (-635, 317.5) projected
  line L21 (635, 190.5) -> (-635, 190.5) projected
  line L22 (635, 190.5) -> (635, 317.5) projected
  line L23 (635, 317.5) -> (558.8, 317.5) projected
  line L24 (889, -381) -> (889, 381) projected
  line L25 (889, -196.85) -> (965.2, -196.85)
  line L26 (965.2, -196.85) -> (965.2, 196.85)
  line L27 (965.2, 196.85) -> (889, 196.85)
  line L28 (889, 196.85) -> (889, -196.85)
  line L29 (-889, 381) -> (-889, -381) projected
  line L30 (-889, 0) -> (-965.2, 0) construction
  line L31 (-965.2, 0) -> (-965.2, 101.6)
  line L32 (-965.2, 101.6) -> (-889, 101.6)
  line L33 (-889, 101.6) -> (-889, 0)
  line L34 (-965.2, 0) -> (-965.2, -101.6)
  line L35 (-965.2, -101.6) -> (-889, -101.6)
  line L36 (-889, -101.6) -> (-889, 0)
  point P0 (0, 0)
  dimension "d71" = 76.2
  dimension "d72" = 393.7
  dimension "d73" = 76.2
  dimension "d74" = 101.6
  dimension "d80" = 184.15
extrude "Extrusion8" add sketch "Sketch6" against normal up to surface (21.59 mm away) from surface at 0 contours L0 L27 L26 L25 | L29 L35 L34 L31 L32
sketch "Sketch7" plane through (889, 21.59, 196.85) normal (0, 0, 1) x (1, 0, 0)
  line L0 (0, 0) -> (21.59, -21.59)
  line L1 (0, 0) -> (30.5329, 0) construction
  line L2 (0, 0) -> (76.2, 0)
  line L3 (76.2, 0) -> (0, 0) projected
  line L4 (76.2, 0) -> (76.2, -21.59)
  line L5 (76.2, -21.59) -> (21.59, -21.59)
  point P0 (-889, -21.59)
  dimension "d77" = 45
extrude "Extrusion9" cut sketch "Sketch7" against normal blind 38.1
ref_plane "Work Plane1" through (889, 0, 0) normal (0, 0, 1) x (1, 0, 0)
mirror "Mirror2" about plane through (889, 0, 0) normal (0, 0, 1) of "Extrusion9"
ref_plane "Work Plane2" through (508, 0, -381) normal (1, 0, 0) x (0, 0, -1)
sketch "Sketch8" plane through (508, 0, -381) normal (1, 0, 0) x (0, 0, -1)
  line L0 (-25.4, 2.54) -> (-63.5, 2.54) projected
  line L1 (-63.5, 2.54) -> (-374.65, 2.54) projected
  line L2 (-374.65, 2.54) -> (-25.4, 2.54) projected
  line L3 (-25.4, 2.54) -> (0, 2.54) projected
  line L4 (-25.4, 2.54) -> (0, 2.54) projected
  line L5 (-374.65, 2.54) -> (-25.4, 2.54) projected
  line L6 (-63.5, 2.54) -> (-374.65, 2.54) projected
  line L7 (-25.4, 2.54) -> (-63.5, 2.54) projected
  line L8 (-63.5, 2.54) -> (-63.5, 15.24) projected
  line L9 (-25.4, 2.54) -> (-63.5, 2.54) projected
  line L10 (-25.4, 2.54) -> (-101.6, 78.74) projected
  line L11 (-101.6, 78.74) -> (-177.8, 78.74) projected
  line L12 (-177.8, 78.74) -> (-177.8, 15.24) projected
  line L13 (-63.5, 15.24) -> (-177.8, 15.24) projected
  line L14 (0, 2.54) -> (-27.7345, 78.74)
  line L15 (0, 2.54) -> (81.0903, 2.54) construction
  line L16 (-27.7345, 78.74) -> (-101.6, 78.74)
  line L17 (-101.6, 78.74) -> (-101.6, 2.54)
  line L18 (0, 2.54) -> (-101.6, 2.54)
  point P0 (-381, 0)
  dimension "d82" = 110
extrude "Extrusion10" add sketch "Sketch8" against normal blind 254 contours L10 L16 L14 L3 | L0 L8 L13 L17 L10 | L1 L17 L13 L8
properties part number "Ball Field"
